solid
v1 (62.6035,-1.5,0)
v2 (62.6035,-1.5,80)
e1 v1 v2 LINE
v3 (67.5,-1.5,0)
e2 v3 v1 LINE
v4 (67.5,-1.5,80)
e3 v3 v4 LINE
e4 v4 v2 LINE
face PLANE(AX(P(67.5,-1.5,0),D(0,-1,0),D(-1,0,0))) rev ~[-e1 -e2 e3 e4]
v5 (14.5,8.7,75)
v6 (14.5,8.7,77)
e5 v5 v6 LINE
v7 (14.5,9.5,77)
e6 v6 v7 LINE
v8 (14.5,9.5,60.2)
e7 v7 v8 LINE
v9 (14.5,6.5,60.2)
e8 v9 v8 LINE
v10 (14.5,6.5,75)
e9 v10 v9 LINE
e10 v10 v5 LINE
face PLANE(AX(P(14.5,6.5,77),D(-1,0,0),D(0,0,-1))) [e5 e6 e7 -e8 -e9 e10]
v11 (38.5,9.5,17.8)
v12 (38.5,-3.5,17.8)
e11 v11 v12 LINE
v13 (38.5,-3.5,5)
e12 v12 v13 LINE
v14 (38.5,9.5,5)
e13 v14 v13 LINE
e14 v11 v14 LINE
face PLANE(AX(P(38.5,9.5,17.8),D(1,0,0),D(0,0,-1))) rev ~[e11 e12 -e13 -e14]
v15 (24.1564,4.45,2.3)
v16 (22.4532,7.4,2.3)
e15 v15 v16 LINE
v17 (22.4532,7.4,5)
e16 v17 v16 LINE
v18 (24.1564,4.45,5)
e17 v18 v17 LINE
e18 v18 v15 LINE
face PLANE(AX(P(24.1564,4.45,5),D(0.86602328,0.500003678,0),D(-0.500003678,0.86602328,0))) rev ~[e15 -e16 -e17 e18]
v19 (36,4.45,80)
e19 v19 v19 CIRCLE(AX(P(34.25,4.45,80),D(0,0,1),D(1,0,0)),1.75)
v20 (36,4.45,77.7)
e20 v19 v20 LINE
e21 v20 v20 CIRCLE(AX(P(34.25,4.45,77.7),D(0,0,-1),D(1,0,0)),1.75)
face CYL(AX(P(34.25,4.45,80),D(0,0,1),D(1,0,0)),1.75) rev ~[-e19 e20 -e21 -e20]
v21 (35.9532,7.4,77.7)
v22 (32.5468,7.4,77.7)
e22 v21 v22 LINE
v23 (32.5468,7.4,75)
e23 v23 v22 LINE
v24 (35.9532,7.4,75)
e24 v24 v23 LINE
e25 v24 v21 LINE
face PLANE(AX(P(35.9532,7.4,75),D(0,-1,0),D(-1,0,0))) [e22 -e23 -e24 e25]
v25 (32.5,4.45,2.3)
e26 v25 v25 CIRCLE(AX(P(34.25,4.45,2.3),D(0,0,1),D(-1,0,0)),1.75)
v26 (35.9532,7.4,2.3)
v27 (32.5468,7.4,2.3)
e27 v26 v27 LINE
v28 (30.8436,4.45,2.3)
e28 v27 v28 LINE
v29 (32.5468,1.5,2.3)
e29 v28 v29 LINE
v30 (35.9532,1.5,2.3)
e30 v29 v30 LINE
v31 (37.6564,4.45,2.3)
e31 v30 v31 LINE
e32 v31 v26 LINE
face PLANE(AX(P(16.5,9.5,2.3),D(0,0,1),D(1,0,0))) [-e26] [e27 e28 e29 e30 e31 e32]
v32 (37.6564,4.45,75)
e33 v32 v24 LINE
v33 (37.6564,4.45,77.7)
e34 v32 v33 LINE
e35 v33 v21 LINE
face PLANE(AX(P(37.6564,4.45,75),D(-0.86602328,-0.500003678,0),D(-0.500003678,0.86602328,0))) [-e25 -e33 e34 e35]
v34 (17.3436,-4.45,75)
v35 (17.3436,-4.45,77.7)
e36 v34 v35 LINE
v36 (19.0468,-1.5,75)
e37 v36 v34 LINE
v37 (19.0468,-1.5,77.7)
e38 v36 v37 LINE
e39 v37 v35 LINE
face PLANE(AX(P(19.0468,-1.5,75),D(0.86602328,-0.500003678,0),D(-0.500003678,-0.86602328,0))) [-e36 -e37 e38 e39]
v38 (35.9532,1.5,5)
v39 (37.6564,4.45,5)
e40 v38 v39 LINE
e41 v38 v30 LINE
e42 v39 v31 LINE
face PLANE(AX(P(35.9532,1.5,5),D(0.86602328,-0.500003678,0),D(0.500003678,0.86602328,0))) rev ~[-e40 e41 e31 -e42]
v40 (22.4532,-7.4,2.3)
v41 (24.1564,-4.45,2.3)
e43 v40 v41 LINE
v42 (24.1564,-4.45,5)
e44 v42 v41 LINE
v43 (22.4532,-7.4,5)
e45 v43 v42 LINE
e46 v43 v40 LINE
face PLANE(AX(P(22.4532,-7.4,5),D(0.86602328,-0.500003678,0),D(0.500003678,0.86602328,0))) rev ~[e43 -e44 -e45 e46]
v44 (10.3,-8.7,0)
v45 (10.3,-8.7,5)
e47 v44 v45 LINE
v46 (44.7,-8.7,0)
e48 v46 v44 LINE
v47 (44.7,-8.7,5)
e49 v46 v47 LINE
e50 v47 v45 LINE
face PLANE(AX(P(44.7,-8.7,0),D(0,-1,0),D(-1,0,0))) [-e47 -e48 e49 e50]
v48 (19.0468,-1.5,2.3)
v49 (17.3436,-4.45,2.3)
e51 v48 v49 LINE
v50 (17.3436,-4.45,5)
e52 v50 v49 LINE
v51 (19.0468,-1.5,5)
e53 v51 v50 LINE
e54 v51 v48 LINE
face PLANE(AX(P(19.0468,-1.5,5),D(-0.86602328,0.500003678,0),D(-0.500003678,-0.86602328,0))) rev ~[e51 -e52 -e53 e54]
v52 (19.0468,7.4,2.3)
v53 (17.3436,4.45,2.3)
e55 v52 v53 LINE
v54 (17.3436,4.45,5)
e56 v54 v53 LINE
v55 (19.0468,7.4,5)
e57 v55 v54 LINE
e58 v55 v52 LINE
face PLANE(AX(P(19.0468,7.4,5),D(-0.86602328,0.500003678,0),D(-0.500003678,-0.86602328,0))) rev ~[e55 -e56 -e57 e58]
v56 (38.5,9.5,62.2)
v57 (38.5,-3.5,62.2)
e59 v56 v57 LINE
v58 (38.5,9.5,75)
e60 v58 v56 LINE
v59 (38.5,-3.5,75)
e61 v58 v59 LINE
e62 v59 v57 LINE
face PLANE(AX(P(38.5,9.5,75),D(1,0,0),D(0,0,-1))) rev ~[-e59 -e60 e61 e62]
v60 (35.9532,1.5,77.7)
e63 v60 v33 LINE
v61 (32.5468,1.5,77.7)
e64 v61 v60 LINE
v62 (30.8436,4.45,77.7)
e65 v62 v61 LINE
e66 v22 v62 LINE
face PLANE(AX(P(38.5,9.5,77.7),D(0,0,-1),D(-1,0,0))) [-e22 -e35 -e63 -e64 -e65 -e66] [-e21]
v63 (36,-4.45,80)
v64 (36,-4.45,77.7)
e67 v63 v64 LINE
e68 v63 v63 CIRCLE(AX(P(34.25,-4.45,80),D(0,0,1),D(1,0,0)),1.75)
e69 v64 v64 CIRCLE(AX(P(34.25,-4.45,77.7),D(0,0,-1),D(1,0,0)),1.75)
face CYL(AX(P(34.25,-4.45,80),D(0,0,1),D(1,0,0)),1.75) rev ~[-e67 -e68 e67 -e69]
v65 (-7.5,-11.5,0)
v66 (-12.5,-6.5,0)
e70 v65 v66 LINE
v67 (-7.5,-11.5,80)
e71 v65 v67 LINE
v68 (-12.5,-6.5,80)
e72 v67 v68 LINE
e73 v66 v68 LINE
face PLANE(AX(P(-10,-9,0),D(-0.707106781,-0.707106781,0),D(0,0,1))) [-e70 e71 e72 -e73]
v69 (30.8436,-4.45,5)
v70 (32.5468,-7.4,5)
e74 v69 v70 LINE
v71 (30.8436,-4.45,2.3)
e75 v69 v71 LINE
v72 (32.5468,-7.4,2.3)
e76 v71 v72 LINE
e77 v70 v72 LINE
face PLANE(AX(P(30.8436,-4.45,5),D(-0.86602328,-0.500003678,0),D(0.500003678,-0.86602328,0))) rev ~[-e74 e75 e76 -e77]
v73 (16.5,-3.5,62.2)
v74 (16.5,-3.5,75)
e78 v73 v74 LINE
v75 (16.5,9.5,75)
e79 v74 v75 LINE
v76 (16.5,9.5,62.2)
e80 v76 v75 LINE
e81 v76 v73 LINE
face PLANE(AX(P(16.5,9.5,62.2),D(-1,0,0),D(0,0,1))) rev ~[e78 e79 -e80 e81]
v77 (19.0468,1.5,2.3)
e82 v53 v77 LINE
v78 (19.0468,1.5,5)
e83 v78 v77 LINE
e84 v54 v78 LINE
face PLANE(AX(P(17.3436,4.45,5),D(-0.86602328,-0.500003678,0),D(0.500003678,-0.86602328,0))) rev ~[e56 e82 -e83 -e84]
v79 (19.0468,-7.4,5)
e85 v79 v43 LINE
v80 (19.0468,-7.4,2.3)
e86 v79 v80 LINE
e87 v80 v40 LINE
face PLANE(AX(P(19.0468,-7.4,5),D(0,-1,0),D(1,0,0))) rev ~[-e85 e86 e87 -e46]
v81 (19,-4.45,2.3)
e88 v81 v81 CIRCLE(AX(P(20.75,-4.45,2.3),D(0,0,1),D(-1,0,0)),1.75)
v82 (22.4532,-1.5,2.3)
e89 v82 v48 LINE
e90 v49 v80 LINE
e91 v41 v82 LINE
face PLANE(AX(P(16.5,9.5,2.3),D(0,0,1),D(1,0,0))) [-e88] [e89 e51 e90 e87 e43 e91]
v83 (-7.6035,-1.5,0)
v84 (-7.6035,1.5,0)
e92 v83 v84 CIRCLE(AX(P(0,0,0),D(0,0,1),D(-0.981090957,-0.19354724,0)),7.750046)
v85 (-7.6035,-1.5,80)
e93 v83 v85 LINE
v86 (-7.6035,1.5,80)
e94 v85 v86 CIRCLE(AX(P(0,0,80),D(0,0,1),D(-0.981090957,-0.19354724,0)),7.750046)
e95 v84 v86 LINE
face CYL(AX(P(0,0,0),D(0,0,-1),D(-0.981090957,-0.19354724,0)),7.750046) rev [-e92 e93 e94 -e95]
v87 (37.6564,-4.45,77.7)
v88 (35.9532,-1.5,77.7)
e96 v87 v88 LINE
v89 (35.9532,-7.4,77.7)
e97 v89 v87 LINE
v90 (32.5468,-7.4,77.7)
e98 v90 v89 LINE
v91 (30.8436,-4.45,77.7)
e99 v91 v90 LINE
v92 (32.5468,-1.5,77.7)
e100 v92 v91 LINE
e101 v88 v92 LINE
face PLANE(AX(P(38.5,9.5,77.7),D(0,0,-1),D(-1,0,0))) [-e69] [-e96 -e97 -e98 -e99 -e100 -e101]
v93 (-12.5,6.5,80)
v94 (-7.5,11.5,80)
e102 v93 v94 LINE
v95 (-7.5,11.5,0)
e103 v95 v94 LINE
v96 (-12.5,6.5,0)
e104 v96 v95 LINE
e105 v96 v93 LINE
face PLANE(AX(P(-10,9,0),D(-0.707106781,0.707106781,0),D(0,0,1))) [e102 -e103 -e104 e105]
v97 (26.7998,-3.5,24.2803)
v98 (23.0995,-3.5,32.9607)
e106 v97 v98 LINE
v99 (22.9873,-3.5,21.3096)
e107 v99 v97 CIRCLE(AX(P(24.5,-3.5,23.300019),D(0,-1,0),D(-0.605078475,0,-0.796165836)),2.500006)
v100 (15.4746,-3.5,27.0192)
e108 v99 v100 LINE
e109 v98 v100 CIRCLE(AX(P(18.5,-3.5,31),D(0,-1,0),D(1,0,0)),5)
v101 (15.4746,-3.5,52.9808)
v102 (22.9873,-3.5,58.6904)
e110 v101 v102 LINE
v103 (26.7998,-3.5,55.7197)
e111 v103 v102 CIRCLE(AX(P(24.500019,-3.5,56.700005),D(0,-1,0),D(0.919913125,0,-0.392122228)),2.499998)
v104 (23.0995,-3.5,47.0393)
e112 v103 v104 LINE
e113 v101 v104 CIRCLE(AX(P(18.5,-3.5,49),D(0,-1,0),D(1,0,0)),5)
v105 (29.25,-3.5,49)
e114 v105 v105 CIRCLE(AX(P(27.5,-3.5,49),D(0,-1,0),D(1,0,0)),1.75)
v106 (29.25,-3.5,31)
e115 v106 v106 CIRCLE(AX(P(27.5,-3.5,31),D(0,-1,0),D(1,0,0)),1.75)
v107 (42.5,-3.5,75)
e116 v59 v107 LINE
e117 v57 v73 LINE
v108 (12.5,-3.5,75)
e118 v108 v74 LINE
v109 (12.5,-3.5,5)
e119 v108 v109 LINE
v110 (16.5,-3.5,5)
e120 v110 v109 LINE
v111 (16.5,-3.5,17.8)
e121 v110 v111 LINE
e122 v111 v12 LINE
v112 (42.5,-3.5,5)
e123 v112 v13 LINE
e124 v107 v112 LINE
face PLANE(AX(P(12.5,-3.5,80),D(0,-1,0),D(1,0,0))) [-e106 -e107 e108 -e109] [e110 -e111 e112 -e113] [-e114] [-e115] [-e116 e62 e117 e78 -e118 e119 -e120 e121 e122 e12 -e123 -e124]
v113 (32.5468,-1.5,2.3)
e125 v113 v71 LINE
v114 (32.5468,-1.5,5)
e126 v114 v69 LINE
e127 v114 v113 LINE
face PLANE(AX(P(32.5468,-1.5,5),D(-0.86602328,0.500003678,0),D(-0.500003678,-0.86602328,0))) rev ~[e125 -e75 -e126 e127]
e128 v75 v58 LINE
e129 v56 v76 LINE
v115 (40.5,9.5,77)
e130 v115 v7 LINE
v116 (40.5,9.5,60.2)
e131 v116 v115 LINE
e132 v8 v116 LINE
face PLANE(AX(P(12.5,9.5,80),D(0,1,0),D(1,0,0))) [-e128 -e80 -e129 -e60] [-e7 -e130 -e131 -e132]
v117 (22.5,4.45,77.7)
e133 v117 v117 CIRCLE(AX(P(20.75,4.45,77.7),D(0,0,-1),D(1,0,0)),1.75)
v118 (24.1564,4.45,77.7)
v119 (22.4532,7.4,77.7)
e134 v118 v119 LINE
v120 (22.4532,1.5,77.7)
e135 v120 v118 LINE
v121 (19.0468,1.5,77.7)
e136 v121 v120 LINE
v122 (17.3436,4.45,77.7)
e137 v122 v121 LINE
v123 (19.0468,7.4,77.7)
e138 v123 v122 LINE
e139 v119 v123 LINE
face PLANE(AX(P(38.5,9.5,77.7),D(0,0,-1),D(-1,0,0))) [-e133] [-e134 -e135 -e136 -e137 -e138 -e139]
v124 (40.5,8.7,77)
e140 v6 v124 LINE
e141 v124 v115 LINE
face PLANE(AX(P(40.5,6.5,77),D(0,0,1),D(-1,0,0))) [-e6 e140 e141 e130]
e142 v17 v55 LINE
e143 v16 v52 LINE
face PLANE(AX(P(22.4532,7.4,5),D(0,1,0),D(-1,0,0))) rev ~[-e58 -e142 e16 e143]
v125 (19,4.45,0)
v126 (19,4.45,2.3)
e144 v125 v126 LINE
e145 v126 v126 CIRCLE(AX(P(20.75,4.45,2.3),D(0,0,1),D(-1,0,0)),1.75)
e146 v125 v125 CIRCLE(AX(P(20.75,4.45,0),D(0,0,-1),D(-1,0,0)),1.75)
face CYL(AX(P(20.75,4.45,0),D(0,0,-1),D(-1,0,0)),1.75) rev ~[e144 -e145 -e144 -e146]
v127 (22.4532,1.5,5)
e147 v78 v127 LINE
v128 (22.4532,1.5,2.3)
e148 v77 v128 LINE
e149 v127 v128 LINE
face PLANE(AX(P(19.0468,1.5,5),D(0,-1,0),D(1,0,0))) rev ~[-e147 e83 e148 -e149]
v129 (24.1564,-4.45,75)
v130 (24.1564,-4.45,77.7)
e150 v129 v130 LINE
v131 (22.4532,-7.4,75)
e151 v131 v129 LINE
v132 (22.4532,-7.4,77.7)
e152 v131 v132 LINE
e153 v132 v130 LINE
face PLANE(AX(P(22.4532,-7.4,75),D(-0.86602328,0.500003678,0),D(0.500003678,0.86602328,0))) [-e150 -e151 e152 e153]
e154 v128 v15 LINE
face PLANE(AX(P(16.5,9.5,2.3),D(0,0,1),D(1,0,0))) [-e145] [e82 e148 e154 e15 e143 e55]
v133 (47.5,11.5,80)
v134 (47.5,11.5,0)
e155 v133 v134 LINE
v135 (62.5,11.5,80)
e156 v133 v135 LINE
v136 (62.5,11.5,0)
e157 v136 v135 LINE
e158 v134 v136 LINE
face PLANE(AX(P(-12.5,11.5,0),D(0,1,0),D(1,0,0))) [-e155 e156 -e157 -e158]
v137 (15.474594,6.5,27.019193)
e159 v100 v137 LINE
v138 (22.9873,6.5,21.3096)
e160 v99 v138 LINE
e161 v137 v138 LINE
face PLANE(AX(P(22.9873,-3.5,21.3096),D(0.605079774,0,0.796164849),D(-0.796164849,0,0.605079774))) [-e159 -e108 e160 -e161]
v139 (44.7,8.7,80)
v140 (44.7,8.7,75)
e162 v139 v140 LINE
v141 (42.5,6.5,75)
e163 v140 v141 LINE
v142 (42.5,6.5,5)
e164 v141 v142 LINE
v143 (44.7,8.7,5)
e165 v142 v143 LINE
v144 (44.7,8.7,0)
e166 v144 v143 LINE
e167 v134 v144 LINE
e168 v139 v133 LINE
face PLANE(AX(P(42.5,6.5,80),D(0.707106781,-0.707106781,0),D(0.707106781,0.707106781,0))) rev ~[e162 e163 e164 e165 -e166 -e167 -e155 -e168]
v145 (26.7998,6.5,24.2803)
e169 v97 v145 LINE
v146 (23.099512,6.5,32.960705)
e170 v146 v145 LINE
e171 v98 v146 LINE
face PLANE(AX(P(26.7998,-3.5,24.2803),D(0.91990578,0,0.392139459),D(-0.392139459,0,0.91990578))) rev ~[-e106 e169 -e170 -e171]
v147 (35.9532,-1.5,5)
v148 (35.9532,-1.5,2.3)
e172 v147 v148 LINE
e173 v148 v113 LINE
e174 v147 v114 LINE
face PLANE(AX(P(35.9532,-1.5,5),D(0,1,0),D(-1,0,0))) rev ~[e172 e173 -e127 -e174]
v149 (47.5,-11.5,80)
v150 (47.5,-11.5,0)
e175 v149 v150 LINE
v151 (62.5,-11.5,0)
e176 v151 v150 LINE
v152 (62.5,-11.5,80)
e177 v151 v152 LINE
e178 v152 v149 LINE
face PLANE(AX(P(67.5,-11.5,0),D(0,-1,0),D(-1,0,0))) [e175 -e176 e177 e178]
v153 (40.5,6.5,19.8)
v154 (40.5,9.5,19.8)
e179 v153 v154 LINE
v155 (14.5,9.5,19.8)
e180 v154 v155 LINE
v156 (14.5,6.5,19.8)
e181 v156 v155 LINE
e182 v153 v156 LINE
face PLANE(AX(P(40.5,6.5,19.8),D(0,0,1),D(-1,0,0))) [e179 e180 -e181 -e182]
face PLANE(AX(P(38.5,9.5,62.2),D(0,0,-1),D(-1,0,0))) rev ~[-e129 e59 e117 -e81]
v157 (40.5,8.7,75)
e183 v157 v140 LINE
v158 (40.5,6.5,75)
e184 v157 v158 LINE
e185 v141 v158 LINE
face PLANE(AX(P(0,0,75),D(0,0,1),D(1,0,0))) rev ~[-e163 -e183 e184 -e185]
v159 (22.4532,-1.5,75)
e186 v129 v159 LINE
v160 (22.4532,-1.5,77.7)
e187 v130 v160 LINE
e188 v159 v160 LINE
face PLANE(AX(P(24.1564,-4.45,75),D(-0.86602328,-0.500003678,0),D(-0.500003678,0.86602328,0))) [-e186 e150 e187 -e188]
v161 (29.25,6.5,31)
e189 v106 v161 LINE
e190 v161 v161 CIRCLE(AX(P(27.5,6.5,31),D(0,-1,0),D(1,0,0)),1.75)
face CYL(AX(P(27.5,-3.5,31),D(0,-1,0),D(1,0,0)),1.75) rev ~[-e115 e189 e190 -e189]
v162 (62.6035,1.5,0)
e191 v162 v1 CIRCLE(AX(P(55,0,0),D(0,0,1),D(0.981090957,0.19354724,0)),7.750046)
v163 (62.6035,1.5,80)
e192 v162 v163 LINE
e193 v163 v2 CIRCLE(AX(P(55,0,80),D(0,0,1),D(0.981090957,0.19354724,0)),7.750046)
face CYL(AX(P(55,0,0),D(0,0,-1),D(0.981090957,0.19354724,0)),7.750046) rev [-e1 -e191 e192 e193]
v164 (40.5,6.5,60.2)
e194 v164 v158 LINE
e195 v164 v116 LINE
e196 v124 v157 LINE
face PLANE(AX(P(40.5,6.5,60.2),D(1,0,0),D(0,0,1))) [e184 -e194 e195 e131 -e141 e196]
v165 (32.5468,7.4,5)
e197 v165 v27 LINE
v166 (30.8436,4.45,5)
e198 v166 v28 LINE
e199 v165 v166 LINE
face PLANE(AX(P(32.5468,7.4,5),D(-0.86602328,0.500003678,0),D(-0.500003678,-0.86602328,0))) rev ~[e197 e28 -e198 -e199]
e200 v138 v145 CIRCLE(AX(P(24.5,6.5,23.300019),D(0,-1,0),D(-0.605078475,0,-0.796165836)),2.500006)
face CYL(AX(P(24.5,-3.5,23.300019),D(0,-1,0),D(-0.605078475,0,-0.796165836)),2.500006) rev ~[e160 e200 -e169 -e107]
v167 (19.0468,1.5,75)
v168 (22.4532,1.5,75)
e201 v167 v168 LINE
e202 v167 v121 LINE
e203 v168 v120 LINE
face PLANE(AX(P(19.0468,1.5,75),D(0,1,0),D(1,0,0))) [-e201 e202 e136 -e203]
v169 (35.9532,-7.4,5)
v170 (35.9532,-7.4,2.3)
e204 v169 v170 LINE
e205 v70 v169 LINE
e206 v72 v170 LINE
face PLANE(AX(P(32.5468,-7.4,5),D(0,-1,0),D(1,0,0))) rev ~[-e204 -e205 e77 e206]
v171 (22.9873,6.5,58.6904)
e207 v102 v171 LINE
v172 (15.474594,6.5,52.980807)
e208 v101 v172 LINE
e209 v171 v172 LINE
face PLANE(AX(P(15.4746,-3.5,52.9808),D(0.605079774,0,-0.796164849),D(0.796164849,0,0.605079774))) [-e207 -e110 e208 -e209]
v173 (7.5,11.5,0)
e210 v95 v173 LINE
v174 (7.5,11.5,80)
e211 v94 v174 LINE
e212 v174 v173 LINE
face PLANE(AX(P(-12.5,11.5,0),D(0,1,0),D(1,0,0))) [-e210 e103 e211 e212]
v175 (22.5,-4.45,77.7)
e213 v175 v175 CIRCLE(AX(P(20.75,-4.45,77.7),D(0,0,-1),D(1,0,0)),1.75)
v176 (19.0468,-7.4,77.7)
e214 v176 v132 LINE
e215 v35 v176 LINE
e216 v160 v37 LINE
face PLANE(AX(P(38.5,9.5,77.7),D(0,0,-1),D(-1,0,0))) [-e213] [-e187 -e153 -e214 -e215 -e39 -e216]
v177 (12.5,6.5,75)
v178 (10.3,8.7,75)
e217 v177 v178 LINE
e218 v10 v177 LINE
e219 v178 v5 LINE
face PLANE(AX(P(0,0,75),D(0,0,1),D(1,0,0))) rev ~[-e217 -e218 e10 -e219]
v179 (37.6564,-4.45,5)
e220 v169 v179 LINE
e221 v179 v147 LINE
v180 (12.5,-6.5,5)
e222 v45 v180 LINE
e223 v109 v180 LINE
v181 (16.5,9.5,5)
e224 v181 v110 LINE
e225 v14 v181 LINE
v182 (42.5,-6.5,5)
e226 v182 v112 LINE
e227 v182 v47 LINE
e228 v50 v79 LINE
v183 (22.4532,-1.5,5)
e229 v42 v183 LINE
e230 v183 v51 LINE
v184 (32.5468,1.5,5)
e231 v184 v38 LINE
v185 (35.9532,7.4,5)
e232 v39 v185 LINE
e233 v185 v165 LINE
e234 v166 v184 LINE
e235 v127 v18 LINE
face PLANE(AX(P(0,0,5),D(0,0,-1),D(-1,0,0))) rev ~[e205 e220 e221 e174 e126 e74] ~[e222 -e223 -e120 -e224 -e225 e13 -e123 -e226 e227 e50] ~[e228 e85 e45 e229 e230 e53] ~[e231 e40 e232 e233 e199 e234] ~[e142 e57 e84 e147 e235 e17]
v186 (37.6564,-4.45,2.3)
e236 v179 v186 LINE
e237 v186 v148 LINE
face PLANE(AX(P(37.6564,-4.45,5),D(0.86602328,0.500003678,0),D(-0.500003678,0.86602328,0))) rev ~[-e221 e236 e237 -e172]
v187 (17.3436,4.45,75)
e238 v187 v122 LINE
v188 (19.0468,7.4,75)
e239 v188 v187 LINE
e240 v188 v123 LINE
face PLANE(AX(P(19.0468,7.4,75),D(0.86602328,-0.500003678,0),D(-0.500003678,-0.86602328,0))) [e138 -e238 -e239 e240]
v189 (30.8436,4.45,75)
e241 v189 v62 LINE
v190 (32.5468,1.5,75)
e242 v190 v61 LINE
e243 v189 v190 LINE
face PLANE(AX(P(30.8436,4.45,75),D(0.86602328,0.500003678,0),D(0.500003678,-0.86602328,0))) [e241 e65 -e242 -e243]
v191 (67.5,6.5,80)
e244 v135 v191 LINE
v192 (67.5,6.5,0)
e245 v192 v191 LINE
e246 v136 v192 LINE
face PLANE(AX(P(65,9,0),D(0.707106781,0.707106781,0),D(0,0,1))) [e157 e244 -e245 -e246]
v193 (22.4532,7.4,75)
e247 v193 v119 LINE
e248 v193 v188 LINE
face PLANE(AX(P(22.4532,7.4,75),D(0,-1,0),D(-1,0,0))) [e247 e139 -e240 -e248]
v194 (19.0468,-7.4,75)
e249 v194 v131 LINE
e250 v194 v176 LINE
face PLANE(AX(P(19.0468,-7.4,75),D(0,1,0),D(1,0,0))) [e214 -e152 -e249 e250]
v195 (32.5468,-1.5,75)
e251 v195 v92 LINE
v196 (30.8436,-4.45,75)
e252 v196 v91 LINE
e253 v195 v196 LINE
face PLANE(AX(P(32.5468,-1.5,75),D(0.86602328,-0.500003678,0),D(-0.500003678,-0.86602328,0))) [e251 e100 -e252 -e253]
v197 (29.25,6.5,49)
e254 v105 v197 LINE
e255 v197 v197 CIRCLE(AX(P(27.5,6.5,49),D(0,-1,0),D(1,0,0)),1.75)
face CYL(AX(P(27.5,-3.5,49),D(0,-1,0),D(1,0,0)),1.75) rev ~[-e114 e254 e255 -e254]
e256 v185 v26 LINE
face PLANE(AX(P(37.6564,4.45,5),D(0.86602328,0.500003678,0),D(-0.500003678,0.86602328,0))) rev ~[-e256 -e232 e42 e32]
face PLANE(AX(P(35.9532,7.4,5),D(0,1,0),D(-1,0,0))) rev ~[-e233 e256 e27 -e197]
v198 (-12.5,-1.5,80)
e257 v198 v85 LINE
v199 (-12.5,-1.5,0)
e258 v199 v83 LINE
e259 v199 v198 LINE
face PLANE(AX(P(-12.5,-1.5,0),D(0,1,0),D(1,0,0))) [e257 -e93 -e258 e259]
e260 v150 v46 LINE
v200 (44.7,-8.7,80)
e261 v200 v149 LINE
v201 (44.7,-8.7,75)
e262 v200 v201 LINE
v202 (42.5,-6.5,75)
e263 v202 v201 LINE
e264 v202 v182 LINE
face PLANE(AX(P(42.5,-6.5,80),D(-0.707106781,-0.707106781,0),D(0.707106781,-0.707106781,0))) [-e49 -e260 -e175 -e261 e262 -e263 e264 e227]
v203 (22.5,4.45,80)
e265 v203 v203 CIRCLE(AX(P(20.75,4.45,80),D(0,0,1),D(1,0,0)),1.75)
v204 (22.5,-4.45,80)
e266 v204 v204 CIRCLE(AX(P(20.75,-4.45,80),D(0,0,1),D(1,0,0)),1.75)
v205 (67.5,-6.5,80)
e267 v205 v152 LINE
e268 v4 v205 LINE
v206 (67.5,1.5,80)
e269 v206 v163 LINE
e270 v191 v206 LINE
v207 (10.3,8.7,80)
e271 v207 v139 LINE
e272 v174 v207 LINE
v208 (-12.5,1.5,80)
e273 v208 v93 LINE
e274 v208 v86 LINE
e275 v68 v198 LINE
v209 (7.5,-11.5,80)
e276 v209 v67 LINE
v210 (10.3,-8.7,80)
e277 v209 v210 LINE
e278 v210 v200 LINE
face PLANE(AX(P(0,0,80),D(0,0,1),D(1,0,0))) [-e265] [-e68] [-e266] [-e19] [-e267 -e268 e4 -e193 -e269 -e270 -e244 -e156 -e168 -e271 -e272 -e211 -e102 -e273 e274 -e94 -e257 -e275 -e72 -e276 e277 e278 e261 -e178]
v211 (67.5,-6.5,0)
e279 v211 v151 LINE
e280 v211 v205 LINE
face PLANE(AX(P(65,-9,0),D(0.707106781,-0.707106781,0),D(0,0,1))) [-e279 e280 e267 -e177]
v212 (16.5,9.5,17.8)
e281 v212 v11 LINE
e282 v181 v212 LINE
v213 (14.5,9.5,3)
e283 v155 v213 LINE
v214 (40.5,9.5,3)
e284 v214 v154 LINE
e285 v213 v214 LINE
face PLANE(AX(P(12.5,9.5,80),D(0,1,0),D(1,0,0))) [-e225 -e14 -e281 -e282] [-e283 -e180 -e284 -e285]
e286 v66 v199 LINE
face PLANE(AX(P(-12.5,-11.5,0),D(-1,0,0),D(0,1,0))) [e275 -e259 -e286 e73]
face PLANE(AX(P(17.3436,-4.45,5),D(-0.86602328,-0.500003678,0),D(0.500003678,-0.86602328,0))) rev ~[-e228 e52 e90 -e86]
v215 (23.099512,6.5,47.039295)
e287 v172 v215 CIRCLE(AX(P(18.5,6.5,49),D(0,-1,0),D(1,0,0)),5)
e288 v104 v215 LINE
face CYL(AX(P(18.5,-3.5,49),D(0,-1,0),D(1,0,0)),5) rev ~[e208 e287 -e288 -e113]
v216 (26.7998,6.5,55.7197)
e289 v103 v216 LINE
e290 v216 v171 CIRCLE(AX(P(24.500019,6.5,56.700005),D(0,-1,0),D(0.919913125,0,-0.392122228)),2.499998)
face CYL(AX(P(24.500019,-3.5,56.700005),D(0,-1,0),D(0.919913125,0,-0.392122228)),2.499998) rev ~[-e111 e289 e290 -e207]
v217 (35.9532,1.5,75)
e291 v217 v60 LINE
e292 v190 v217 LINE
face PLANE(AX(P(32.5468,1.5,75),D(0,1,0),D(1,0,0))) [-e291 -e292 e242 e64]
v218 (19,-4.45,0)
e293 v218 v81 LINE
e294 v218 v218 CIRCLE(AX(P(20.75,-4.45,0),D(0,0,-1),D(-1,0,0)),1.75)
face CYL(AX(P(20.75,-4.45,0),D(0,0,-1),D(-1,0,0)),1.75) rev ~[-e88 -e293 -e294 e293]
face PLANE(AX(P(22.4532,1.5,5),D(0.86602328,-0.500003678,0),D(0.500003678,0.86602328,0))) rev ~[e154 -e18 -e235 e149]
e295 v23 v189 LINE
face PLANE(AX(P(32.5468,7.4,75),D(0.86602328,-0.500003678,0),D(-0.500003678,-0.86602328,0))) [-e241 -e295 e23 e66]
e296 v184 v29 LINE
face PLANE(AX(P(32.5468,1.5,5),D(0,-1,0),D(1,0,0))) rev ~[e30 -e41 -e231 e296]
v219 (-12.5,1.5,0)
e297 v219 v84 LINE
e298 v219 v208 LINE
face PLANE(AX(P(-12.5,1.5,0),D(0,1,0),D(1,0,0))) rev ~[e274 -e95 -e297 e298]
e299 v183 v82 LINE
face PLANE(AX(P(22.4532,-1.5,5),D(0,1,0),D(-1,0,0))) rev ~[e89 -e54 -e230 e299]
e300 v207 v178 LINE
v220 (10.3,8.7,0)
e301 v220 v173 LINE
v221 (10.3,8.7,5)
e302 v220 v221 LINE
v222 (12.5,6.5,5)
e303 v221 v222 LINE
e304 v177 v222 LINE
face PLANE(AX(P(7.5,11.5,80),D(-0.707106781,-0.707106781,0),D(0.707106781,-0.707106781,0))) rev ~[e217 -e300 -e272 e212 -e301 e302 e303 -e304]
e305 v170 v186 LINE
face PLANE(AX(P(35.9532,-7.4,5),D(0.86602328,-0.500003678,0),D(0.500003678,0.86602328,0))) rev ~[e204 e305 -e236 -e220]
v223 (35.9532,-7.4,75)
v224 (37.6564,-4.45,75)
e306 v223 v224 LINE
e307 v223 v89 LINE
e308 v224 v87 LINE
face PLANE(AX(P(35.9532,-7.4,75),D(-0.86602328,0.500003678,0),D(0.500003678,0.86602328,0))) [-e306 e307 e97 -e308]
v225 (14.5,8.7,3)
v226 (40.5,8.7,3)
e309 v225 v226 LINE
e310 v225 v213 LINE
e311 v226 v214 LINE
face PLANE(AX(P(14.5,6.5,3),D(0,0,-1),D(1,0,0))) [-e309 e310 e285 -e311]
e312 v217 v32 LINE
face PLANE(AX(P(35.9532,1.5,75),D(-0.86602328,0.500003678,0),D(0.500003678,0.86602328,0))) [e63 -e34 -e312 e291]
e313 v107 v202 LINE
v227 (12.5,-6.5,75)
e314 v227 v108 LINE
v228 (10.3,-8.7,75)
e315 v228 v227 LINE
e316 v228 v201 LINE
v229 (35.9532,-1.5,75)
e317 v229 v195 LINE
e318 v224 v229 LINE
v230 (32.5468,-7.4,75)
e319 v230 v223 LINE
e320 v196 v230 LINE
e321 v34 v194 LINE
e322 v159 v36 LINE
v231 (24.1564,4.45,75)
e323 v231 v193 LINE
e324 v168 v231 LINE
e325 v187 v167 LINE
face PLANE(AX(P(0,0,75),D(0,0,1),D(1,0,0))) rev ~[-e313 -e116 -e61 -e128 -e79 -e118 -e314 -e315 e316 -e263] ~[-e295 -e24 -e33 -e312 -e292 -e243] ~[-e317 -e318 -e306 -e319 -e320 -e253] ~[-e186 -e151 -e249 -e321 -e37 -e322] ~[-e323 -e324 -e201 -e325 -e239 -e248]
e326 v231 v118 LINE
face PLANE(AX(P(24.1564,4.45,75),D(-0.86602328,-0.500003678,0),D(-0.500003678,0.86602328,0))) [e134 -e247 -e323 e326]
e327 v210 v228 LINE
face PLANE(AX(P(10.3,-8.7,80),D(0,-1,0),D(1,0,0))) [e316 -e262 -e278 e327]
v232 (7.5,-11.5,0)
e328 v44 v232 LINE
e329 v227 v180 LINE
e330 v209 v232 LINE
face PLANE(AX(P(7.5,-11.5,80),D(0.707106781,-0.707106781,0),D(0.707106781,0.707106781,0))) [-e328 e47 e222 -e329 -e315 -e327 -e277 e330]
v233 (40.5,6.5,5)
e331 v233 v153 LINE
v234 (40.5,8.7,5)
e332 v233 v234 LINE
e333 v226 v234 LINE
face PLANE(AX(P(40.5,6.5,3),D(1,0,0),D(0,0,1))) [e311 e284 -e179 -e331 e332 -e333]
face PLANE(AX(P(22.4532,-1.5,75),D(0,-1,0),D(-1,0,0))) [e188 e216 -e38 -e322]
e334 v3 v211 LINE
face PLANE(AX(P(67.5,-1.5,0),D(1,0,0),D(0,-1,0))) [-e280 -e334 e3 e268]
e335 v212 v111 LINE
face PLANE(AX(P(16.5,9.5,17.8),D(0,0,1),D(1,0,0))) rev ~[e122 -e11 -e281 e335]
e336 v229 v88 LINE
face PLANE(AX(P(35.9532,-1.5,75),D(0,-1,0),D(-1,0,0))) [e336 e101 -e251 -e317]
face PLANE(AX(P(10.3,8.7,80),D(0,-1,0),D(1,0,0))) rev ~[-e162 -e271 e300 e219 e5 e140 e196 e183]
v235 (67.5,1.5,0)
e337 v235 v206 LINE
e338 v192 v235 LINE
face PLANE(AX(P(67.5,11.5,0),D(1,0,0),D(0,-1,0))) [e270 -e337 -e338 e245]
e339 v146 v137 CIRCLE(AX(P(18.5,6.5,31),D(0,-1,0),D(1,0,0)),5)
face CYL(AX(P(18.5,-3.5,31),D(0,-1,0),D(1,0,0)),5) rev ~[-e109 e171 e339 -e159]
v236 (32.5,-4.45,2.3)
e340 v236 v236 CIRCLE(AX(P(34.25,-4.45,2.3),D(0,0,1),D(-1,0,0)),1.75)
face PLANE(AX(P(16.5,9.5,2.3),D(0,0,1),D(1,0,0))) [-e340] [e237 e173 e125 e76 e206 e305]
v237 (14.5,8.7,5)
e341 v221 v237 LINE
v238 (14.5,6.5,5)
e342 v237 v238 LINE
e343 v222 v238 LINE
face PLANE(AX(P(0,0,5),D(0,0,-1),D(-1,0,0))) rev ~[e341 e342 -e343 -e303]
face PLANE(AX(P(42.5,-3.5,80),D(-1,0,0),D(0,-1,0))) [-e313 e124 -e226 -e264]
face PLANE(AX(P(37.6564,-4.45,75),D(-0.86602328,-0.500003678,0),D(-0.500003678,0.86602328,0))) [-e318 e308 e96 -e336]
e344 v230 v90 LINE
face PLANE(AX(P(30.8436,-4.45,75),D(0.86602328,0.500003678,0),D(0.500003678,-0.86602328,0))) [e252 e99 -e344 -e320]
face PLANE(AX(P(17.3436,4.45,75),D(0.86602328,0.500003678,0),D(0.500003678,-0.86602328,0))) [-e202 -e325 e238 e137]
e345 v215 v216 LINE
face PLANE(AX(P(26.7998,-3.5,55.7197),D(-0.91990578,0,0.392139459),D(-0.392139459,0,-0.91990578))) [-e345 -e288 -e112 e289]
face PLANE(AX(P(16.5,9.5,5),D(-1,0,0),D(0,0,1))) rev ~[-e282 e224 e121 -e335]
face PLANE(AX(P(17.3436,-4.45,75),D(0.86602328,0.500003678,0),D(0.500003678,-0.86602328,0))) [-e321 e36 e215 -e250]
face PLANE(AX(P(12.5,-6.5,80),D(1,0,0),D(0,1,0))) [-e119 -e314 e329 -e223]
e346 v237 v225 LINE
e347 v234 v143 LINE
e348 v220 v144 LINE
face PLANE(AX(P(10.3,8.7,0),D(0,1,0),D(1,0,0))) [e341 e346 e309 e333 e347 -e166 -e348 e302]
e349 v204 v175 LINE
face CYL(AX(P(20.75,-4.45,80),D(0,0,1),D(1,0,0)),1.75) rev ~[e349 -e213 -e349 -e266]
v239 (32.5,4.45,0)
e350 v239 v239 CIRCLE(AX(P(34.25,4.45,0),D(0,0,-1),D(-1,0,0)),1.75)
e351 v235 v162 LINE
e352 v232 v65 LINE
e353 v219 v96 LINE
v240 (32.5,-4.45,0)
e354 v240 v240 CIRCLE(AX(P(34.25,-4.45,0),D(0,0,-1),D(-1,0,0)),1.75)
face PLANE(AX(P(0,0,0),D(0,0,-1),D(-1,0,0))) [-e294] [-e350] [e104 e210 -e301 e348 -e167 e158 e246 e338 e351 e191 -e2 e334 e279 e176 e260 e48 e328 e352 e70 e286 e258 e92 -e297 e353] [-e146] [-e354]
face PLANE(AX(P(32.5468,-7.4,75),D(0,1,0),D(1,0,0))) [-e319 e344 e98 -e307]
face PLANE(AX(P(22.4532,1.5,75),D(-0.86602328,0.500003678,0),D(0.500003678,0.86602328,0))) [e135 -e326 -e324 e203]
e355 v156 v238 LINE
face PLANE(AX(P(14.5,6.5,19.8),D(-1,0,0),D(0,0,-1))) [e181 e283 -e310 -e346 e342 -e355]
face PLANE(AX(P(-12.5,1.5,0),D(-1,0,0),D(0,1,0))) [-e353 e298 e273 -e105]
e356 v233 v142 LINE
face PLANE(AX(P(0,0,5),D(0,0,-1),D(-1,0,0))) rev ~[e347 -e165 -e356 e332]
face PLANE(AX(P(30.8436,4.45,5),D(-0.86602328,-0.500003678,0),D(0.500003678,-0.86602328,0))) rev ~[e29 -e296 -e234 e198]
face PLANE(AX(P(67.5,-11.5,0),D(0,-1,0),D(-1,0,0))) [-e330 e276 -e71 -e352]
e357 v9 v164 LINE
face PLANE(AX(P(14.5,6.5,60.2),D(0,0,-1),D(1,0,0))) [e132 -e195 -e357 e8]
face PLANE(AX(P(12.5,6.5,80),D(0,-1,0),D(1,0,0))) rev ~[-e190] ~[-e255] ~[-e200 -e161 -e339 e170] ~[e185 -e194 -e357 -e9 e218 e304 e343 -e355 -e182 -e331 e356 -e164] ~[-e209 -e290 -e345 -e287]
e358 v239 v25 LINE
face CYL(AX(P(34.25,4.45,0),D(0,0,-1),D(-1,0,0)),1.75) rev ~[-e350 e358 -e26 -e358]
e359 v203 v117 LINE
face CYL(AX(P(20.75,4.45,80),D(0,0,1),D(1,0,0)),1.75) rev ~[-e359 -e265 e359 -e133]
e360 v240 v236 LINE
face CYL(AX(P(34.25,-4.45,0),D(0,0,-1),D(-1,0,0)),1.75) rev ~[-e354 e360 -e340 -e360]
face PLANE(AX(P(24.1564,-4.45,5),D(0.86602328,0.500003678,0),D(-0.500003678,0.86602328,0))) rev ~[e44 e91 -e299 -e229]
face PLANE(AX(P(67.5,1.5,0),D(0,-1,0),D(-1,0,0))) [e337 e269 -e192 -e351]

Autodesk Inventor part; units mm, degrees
ref_plane "YZ Plane" through (0, 0, 0) normal (1, 0, 0) x (0, 1, 0)
ref_plane "XZ Plane" through (0, 0, 0) normal (0, 1, 0) x (-1, 0, 0)
ref_plane "XY Plane" through (0, 0, 0) normal (0, 0, 1) x (1, 0, 0)
sketch "Sketch1" plane through (0, 0, 0) normal (0, 0, 1) x (1, 0, 0)
  arc A0 (-7.6035, -1.5) -> (-7.6035, 1.5) centre (0, 0) ccw
  arc A1 (62.6035, 1.5) -> (62.6035, -1.5) centre (55, 0) ccw
  line L0 (-12.5, 11.5) -> (67.5, 11.5)
  line L1 (67.5, -11.5) -> (-12.5, -11.5)
  line L2 (-12.5, 1.5) -> (-7.6035, 1.5)
  line L3 (-12.5, -1.5) -> (-7.6035, -1.5)
  line L4 (-12.5, -11.5) -> (-12.5, -1.5)
  line L5 (-12.5, 1.5) -> (-12.5, 11.5)
  line L6 (67.5, 1.5) -> (62.6035, 1.5)
  line L7 (67.5, -1.5) -> (62.6035, -1.5)
  line L8 (67.5, 11.5) -> (67.5, 1.5)
  line L9 (67.5, -1.5) -> (67.5, -11.5)
  dimension "d0" = 15.5
  dimension "d1" = 15.5
  dimension "d2" = 55
  dimension "d3" = 11.5
  dimension "d4" = 11.5
  dimension "d7" = 1.5
  dimension "d8" = 3
  dimension "d9" = 12.5
  dimension "d10" = 12.5
extrude "Extrusion1" add sketch "Sketch1" along normal blind 80
chamfer "Chamfer1" distance 5 angle 45 4 edges at (-12.5, 11.5, 40) (-12.5, -11.5, 40) (67.5, 11.5, 40) (67.5, -11.5, 40)
sketch "Sketch2" plane through (0, 0, 80) normal (0, 0, 1) x (1, 0, 0)
  arc A0 (62.6035, 1.5) -> (62.6035, -1.5) centre (55, 0) ccw projected
  line L0 (62.5, 11.5) -> (-7.5, 11.5) projected
  arc A1 (-7.6035, -1.5) -> (-7.6035, 1.5) centre (0, 0) ccw projected
  line L1 (-7.5, -11.5) -> (62.5, -11.5) projected
  line L2 (-7.5, -11.5) -> (62.5, -11.5) projected
  line L3 (7.5, -11.5) -> (12.5, -6.5)
  line L4 (12.5, -6.5) -> (12.5, -3.5)
  line L5 (12.5, -3.5) -> (42.5, -3.5)
  line L6 (42.5, -3.5) -> (42.5, -6.5)
  line L7 (42.5, -6.5) -> (47.5, -11.5)
  line L8 (7.5, 11.5) -> (12.5, 6.5)
  line L9 (12.5, 6.5) -> (12.5, 6.5)
  line L10 (12.5, 6.5) -> (42.5, 6.5)
  line L11 (42.5, 6.5) -> (42.5, 6.5)
  line L12 (42.5, 6.5) -> (47.5, 11.5)
  dimension "d16" = 135
  dimension "d17" = 12.5
  dimension "d18" = 12.5
  dimension "d19" = 5
  dimension "d64" = 45
  dimension "d65" = 45
  dimension "d66" = 10
  dimension "d67" = 6.5
extrude "Extrusion2" cut sketch "Sketch2" against normal up to next
sketch "Sketch3" plane through (12.5, -3.5, 80) normal (0, -1, 0) x (1, 0, 0)
  line L0 (30, -80) -> (0, -80) projected
  line L1 (0, 0) -> (0, -80) projected
  circle A0 centre (15, -49) radius 1.75
  circle A1 centre (15, -31) radius 1.75
  point P0 (-12.5, -80)
  dimension "d23" = 18
  dimension "d24" = 15
  dimension "d25" = 31
  dimension "d26" = 3.5
extrude "Extrusion3" cut sketch "Sketch3" against normal up to next
sketch "Sketch4" plane through (12.5, -3.5, 80) normal (0, -1, 0) x (1, 0, 0)
  circle A0 centre (15, -49) radius 1.75 projected
  circle A1 centre (15, -31) radius 1.75 projected
  circle A2 centre (6, -49) radius 5
  circle A3 centre (6, -31) radius 5
  point P0 (-12.5, -80)
  dimension "d29" = 10
  dimension "d30" = 9
extrude "Extrusion4" cut sketch "Sketch4" against normal up to next contours A2 | A3
sketch "Sketch11" plane through (12.5, 6.5, 80) normal (0, 1, 0) x (1, 0, 0)
  line L0 (0, 80) -> (30, 80) projected
  line L1 (30, 0) -> (0, 0) projected
  line L2 (2, 77) -> (28, 77)
  line L3 (28, 77) -> (28, 60.2)
  line L4 (28, 60.2) -> (2, 60.2)
  line L5 (2, 60.2) -> (2, 77)
  line L6 (2, 19.8) -> (28, 19.8)
  line L7 (28, 19.8) -> (28, 3)
  line L8 (28, 3) -> (2, 3)
  line L9 (2, 3) -> (2, 19.8)
  line L10 (30, 0) -> (30, 80) projected
  point P0 (-12.5, 80)
  dimension "d68" = 26
  dimension "d69" = 16.8
  dimension "d70" = 3
  dimension "d71" = 3
  dimension "d117" = 2
extrude "Extrusion11" add sketch "Sketch11" along normal blind 3
sketch "Sketch12" plane through (12.5, 9.5, 80) normal (0, 1, 0) x (1, 0, 0)
  line L0 (28, 77) -> (2, 77) projected
  line L1 (2, 77) -> (2, 60.2) projected
  line L2 (2, 60.2) -> (28, 60.2) projected
  line L3 (28, 60.2) -> (28, 77) projected
  line L4 (28, 19.8) -> (2, 19.8) projected
  line L5 (2, 19.8) -> (2, 3) projected
  line L6 (2, 3) -> (28, 3) projected
  line L7 (28, 3) -> (28, 19.8) projected
  line L8 (26, 75) -> (4, 75)
  line L9 (4, 75) -> (4, 62.2)
  line L10 (4, 62.2) -> (26, 62.2)
  line L11 (26, 62.2) -> (26, 75)
  line L12 (26, 17.8) -> (4, 17.8)
  line L13 (4, 17.8) -> (4, 5)
  line L14 (4, 5) -> (26, 5)
  line L15 (26, 5) -> (26, 17.8)
  point P0 (-12.5, 80)
  dimension "d75" = 2
extrude "Extrusion12" cut sketch "Sketch12" against normal up to next contours L11 L10 L9 L8 | L15 L14 L13 L12
sketch "Sketch13" plane through (12.5, -3.5, 80) normal (0, -1, 0) x (1, 0, 0)
  line L0 (4, -62.2) -> (26, -62.2) projected
  line L1 (26, -17.8) -> (4, -17.8) projected
  arc A0 (14.2998, -24.2803) -> (10.4873, -21.3096) centre (12, -23.3) ccw
  arc A1 (10.4873, -58.6904) -> (14.2998, -55.7197) centre (12, -56.7) ccw
  line L2 (0, 0) -> (0, -80) projected
  circle A2 centre (6, -49) radius 5 projected
  circle A3 centre (6, -31) radius 5 projected
  line L3 (10.4873, -58.6904) -> (2.9746, -52.9808)
  circle A4 centre (6, -49) radius 5 projected
  line L4 (14.2998, -55.7197) -> (10.5995, -47.0393)
  line L5 (2.9746, -27.0192) -> (10.4873, -21.3096)
  line L6 (14.2998, -24.2803) -> (10.5995, -32.9607)
  point P0 (-12.5, -80)
  dimension "d78" = 5
  dimension "d79" = 5.5
  dimension "d80" = 5.5
  dimension "d84" = 12
extrude "Extrusion13" cut sketch "Sketch13" against normal up to next contours L6 A3 L5 A0 | L3 A2 L4 A1
sketch "Sketch17" plane through (0, 0, 0) normal (0, 0, -1) x (-1, 0, 0)
  arc A0 (-62.6035, -1.5) -> (-62.6035, 1.5) centre (-55, 0) ccw projected
  line L0 (-42.5, -6.5) -> (-42.5, -3.5) projected
  line L1 (-42.5, -3.5) -> (-12.5, -3.5) projected
  line L2 (-12.5, -3.5) -> (-12.5, -6.5) projected
  line L3 (-42.5, -6.5) -> (-47.5, -11.5) projected
  line L4 (-44.7, -8.7) -> (-10.3, -8.7)
  line L5 (-7.5, -11.5) -> (-12.5, -6.5) projected
  dimension "d93" = 8.7
extrude "Extrusion16" add sketch "Sketch17" against normal blind 5
sketch "Sketch18" plane through (0, 0, 80) normal (0, 0, 1) x (1, 0, 0)
  line L0 (7.5, -11.5) -> (12.5, -6.5) projected
  line L1 (12.5, -6.5) -> (12.5, -3.5) projected
  line L2 (12.5, -3.5) -> (42.5, -3.5) projected
  line L3 (42.5, -3.5) -> (42.5, -6.5) projected
  line L4 (42.5, -6.5) -> (47.5, -11.5) projected
  line L5 (10.3, -8.7) -> (44.7, -8.7) projected
extrude "Extrusion17" add sketch "Sketch18" against normal blind 5
sketch "Sketch19" plane through (0, 0, 80) normal (0, 0, 1) x (1, 0, 0)
  line L0 (47.5, 11.5) -> (42.5, 6.5) projected
  line L1 (42.5, 6.5) -> (12.5, 6.5) projected
  line L2 (12.5, 6.5) -> (7.5, 11.5) projected
  arc A0 (-7.6035, -1.5) -> (-7.6035, 1.5) centre (0, 0) ccw projected
  line L3 (10.3, 8.7) -> (44.7, 8.7)
  point P0 (42.5, 6)
  dimension "d98" = 8.7
extrude "Extrusion18" add sketch "Sketch19" against normal blind 5
sketch "Sketch20" plane through (0, 0, 0) normal (0, 0, -1) x (-1, 0, 0)
  line L0 (-7.5, 11.5) -> (-12.5, 6.5) projected
  line L1 (-12.5, 6.5) -> (-12.5, 6) projected
  line L2 (-12.5, 6.5) -> (-42.5, 6.5) projected
  line L3 (-42.5, 6) -> (-42.5, 6.5) projected
  line L4 (-42.5, 6.5) -> (-47.5, 11.5) projected
  line L5 (-10.3, 8.7) -> (-44.7, 8.7) projected
extrude "Extrusion19" add sketch "Sketch20" against normal blind 5
sketch "Sketch21" plane through (0, 0, 0) normal (0, 0, -1) x (-1, 0, 0)
  line L0 (12.5, 6.5) -> (12.5, 1.5) projected
  line L1 (-10.3, 8.7) -> (-44.7, 8.7) projected
  line L2 (-44.7, -8.7) -> (-10.3, -8.7) projected
  circle A0 centre (-34.25, 4.45) radius 1.75
  circle A1 centre (-20.75, 4.45) radius 1.75
  circle A2 centre (-34.25, -4.45) radius 1.75
  circle A3 centre (-20.75, -4.45) radius 1.75
  dimension "d103" = 13.5
  dimension "d104" = 3.5
  dimension "d105" = 4.25
  dimension "d106" = 4.25
  dimension "d107" = 33.25
extrude "Extrusion20" cut sketch "Sketch21" against normal up to surface (5 mm away)
sketch "Sketch22" plane through (0, 0, 80) normal (0, 0, 1) x (1, 0, 0)
  circle A0 centre (20.75, 4.45) radius 1.75 projected
  circle A1 centre (34.25, 4.45) radius 1.75 projected
  circle A2 centre (34.25, -4.45) radius 1.75 projected
  circle A3 centre (20.75, -4.45) radius 1.75 projected
extrude "Extrusion21" cut sketch "Sketch22" against normal up to surface (5 mm away)
sketch "Sketch23" plane through (38.5, 9.5, 75) normal (0, 0, -1) x (-1, 0, 0)
  circle A0 centre (4.25, -13.95) radius 1.75 projected
  circle A1 centre (17.75, -13.95) radius 1.75 projected
  circle A2 centre (4.25, -5.05) radius 1.75 projected
  circle A3 centre (17.75, -5.05) radius 1.75 projected
  line L0 (14.3436, -13.95) -> (16.0468, -11)
  line L1 (16.0468, -11) -> (19.4532, -11)
  line L2 (19.4532, -11) -> (21.1564, -13.95)
  line L3 (21.1564, -13.95) -> (19.4532, -16.9)
  line L4 (19.4532, -16.9) -> (16.0468, -16.9)
  line L5 (16.0468, -16.9) -> (14.3436, -13.95)
  line L6 (7.6564, -13.95) -> (5.9532, -16.9)
  line L7 (5.9532, -16.9) -> (2.5468, -16.9)
  line L8 (2.5468, -16.9) -> (0.8436, -13.95)
  line L9 (0.8436, -13.95) -> (2.5468, -11)
  line L10 (2.5468, -11) -> (5.9532, -11)
  line L11 (5.9532, -11) -> (7.6564, -13.95)
  line L12 (14.3436, -5.05) -> (16.0468, -2.1)
  line L13 (16.0468, -2.1) -> (19.4532, -2.1)
  line L14 (19.4532, -2.1) -> (21.1564, -5.05)
  line L15 (21.1564, -5.05) -> (19.4532, -8)
  line L16 (19.4532, -8) -> (16.0468, -8)
  line L17 (16.0468, -8) -> (14.3436, -5.05)
  line L18 (7.6564, -5.05) -> (5.9532, -8)
  line L19 (5.9532, -8) -> (2.5468, -8)
  line L20 (2.5468, -8) -> (0.8436, -5.05)
  line L21 (0.8436, -5.05) -> (2.5468, -2.1)
  line L22 (2.5468, -2.1) -> (5.9532, -2.1)
  line L23 (5.9532, -2.1) -> (7.6564, -5.05)
  point P0 (38.5, -9.5)
  dimension "d112" = 5.9
extrude "Extrusion22" cut sketch "Sketch23" against normal blind 2.7
sketch "Sketch24" plane through (16.5, 9.5, 5) normal (0, 0, 1) x (1, 0, 0)
  circle A0 centre (17.75, -13.95) radius 1.75 projected
  circle A1 centre (4.25, -13.95) radius 1.75 projected
  circle A2 centre (4.25, -5.05) radius 1.75 projected
  circle A3 centre (17.75, -5.05) radius 1.75 projected
  circle A4 centre (4.25, -13.95) radius 1.75 projected
  line L0 (7.6564, -13.95) -> (5.9532, -11) projected
  line L1 (5.9532, -16.9) -> (7.6564, -13.95) projected
  line L2 (2.5468, -16.9) -> (5.9532, -16.9) projected
  line L3 (0.8436, -13.95) -> (2.5468, -16.9) projected
  line L4 (2.5468, -11) -> (0.8436, -13.95) projected
  line L5 (5.9532, -11) -> (2.5468, -11) projected
  circle A5 centre (4.25, -5.05) radius 1.75 projected
  line L6 (7.6564, -5.05) -> (5.9532, -2.1) projected
  line L7 (5.9532, -8) -> (7.6564, -5.05) projected
  line L8 (2.5468, -8) -> (5.9532, -8) projected
  line L9 (0.8436, -5.05) -> (2.5468, -8) projected
  line L10 (2.5468, -2.1) -> (0.8436, -5.05) projected
  line L11 (5.9532, -2.1) -> (2.5468, -2.1) projected
  circle A6 centre (17.75, -13.95) radius 1.75 projected
  line L12 (14.3436, -13.95) -> (16.0468, -16.9) projected
  line L13 (16.0468, -11) -> (14.3436, -13.95) projected
  line L14 (19.4532, -11) -> (16.0468, -11) projected
  line L15 (21.1564, -13.95) -> (19.4532, -11) projected
  line L16 (19.4532, -16.9) -> (21.1564, -13.95) projected
  line L17 (16.0468, -16.9) -> (19.4532, -16.9) projected
  circle A7 centre (17.75, -5.05) radius 1.75 projected
  line L18 (14.3436, -5.05) -> (16.0468, -8) projected
  line L19 (16.0468, -2.1) -> (14.3436, -5.05) projected
  line L20 (19.4532, -2.1) -> (16.0468, -2.1) projected
  line L21 (21.1564, -5.05) -> (19.4532, -2.1) projected
  line L22 (19.4532, -8) -> (21.1564, -5.05) projected
  line L23 (16.0468, -8) -> (19.4532, -8) projected
  point P0 (-16.5, -9.5)
extrude "Extrusion23" cut sketch "Sketch24" against normal blind 2.7
sketch "Sketch25" plane through (38.5, 9.5, 77.7) normal (0, 0, -1) x (-1, 0, 0)
  circle A0 centre (17.75, -13.95) radius 1.75 projected
  circle A1 centre (17.75, -5.05) radius 1.75 projected
  line L0 (14.3436, -5.05) -> (16.0468, -2.1) projected
  line L1 (16.0468, -8) -> (14.3436, -5.05) projected
  line L2 (19.4532, -8) -> (16.0468, -8) projected
  line L3 (21.1564, -5.05) -> (19.4532, -8) projected
  line L4 (19.4532, -2.1) -> (21.1564, -5.05) projected
  line L5 (16.0468, -2.1) -> (19.4532, -2.1) projected
  circle A2 centre (4.25, -13.95) radius 1.75 projected
  line L6 (7.6564, -13.95) -> (5.9532, -16.9) projected
  line L7 (5.9532, -11) -> (7.6564, -13.95) projected
  line L8 (2.5468, -11) -> (5.9532, -11) projected
  line L9 (0.8436, -13.95) -> (2.5468, -11) projected
  line L10 (2.5468, -16.9) -> (0.8436, -13.95) projected
  line L11 (5.9532, -16.9) -> (2.5468, -16.9) projected
  circle A3 centre (4.25, -5.05) radius 1.75 projected
  line L12 (7.6564, -5.05) -> (5.9532, -8) projected
  line L13 (5.9532, -2.1) -> (7.6564, -5.05) projected
  line L14 (2.5468, -2.1) -> (5.9532, -2.1) projected
  line L15 (0.8436, -5.05) -> (2.5468, -2.1) projected
  line L16 (2.5468, -8) -> (0.8436, -5.05) projected
  line L17 (5.9532, -8) -> (2.5468, -8) projected
  point P0 (38.5, -9.5)
sketch "Sketch26" plane through (38.5, 9.5, 75) normal (0, 0, -1) x (-1, 0, 0)
  line L0 (16.0468, -8) -> (14.3436, -5.05) projected
  line L1 (14.3436, -5.05) -> (16.0468, -2.1) projected
  line L2 (16.0468, -2.1) -> (19.4532, -2.1) projected
  line L3 (19.4532, -2.1) -> (21.1564, -5.05) projected
  line L4 (21.1564, -5.05) -> (19.4532, -8) projected
  line L5 (19.4532, -8) -> (16.0468, -8) projected
  line L6 (16.0468, -16.9) -> (14.3436, -13.95) projected
  line L7 (14.3436, -13.95) -> (16.0468, -11) projected
  line L8 (16.0468, -11) -> (19.4532, -11) projected
  line L9 (19.4532, -11) -> (21.1564, -13.95) projected
  line L10 (21.1564, -13.95) -> (19.4532, -16.9) projected
  line L11 (19.4532, -16.9) -> (16.0468, -16.9) projected
  line L12 (5.9532, -11) -> (7.6564, -13.95) projected
  line L13 (7.6564, -13.95) -> (5.9532, -16.9) projected
  line L14 (5.9532, -16.9) -> (2.5468, -16.9) projected
  line L15 (2.5468, -16.9) -> (0.8436, -13.95) projected
  line L16 (0.8436, -13.95) -> (2.5468, -11) projected
  line L17 (2.5468, -11) -> (5.9532, -11) projected
  line L18 (5.9532, -2.1) -> (7.6564, -5.05) projected
  line L19 (7.6564, -5.05) -> (5.9532, -8) projected
  line L20 (5.9532, -8) -> (2.5468, -8) projected
  line L21 (2.5468, -8) -> (0.8436, -5.05) projected
  line L22 (0.8436, -5.05) -> (2.5468, -2.1) projected
  line L23 (2.5468, -2.1) -> (5.9532, -2.1) projected
  point P0 (38.5, -9.5)
properties part number "ChimeraXCarriage3"
